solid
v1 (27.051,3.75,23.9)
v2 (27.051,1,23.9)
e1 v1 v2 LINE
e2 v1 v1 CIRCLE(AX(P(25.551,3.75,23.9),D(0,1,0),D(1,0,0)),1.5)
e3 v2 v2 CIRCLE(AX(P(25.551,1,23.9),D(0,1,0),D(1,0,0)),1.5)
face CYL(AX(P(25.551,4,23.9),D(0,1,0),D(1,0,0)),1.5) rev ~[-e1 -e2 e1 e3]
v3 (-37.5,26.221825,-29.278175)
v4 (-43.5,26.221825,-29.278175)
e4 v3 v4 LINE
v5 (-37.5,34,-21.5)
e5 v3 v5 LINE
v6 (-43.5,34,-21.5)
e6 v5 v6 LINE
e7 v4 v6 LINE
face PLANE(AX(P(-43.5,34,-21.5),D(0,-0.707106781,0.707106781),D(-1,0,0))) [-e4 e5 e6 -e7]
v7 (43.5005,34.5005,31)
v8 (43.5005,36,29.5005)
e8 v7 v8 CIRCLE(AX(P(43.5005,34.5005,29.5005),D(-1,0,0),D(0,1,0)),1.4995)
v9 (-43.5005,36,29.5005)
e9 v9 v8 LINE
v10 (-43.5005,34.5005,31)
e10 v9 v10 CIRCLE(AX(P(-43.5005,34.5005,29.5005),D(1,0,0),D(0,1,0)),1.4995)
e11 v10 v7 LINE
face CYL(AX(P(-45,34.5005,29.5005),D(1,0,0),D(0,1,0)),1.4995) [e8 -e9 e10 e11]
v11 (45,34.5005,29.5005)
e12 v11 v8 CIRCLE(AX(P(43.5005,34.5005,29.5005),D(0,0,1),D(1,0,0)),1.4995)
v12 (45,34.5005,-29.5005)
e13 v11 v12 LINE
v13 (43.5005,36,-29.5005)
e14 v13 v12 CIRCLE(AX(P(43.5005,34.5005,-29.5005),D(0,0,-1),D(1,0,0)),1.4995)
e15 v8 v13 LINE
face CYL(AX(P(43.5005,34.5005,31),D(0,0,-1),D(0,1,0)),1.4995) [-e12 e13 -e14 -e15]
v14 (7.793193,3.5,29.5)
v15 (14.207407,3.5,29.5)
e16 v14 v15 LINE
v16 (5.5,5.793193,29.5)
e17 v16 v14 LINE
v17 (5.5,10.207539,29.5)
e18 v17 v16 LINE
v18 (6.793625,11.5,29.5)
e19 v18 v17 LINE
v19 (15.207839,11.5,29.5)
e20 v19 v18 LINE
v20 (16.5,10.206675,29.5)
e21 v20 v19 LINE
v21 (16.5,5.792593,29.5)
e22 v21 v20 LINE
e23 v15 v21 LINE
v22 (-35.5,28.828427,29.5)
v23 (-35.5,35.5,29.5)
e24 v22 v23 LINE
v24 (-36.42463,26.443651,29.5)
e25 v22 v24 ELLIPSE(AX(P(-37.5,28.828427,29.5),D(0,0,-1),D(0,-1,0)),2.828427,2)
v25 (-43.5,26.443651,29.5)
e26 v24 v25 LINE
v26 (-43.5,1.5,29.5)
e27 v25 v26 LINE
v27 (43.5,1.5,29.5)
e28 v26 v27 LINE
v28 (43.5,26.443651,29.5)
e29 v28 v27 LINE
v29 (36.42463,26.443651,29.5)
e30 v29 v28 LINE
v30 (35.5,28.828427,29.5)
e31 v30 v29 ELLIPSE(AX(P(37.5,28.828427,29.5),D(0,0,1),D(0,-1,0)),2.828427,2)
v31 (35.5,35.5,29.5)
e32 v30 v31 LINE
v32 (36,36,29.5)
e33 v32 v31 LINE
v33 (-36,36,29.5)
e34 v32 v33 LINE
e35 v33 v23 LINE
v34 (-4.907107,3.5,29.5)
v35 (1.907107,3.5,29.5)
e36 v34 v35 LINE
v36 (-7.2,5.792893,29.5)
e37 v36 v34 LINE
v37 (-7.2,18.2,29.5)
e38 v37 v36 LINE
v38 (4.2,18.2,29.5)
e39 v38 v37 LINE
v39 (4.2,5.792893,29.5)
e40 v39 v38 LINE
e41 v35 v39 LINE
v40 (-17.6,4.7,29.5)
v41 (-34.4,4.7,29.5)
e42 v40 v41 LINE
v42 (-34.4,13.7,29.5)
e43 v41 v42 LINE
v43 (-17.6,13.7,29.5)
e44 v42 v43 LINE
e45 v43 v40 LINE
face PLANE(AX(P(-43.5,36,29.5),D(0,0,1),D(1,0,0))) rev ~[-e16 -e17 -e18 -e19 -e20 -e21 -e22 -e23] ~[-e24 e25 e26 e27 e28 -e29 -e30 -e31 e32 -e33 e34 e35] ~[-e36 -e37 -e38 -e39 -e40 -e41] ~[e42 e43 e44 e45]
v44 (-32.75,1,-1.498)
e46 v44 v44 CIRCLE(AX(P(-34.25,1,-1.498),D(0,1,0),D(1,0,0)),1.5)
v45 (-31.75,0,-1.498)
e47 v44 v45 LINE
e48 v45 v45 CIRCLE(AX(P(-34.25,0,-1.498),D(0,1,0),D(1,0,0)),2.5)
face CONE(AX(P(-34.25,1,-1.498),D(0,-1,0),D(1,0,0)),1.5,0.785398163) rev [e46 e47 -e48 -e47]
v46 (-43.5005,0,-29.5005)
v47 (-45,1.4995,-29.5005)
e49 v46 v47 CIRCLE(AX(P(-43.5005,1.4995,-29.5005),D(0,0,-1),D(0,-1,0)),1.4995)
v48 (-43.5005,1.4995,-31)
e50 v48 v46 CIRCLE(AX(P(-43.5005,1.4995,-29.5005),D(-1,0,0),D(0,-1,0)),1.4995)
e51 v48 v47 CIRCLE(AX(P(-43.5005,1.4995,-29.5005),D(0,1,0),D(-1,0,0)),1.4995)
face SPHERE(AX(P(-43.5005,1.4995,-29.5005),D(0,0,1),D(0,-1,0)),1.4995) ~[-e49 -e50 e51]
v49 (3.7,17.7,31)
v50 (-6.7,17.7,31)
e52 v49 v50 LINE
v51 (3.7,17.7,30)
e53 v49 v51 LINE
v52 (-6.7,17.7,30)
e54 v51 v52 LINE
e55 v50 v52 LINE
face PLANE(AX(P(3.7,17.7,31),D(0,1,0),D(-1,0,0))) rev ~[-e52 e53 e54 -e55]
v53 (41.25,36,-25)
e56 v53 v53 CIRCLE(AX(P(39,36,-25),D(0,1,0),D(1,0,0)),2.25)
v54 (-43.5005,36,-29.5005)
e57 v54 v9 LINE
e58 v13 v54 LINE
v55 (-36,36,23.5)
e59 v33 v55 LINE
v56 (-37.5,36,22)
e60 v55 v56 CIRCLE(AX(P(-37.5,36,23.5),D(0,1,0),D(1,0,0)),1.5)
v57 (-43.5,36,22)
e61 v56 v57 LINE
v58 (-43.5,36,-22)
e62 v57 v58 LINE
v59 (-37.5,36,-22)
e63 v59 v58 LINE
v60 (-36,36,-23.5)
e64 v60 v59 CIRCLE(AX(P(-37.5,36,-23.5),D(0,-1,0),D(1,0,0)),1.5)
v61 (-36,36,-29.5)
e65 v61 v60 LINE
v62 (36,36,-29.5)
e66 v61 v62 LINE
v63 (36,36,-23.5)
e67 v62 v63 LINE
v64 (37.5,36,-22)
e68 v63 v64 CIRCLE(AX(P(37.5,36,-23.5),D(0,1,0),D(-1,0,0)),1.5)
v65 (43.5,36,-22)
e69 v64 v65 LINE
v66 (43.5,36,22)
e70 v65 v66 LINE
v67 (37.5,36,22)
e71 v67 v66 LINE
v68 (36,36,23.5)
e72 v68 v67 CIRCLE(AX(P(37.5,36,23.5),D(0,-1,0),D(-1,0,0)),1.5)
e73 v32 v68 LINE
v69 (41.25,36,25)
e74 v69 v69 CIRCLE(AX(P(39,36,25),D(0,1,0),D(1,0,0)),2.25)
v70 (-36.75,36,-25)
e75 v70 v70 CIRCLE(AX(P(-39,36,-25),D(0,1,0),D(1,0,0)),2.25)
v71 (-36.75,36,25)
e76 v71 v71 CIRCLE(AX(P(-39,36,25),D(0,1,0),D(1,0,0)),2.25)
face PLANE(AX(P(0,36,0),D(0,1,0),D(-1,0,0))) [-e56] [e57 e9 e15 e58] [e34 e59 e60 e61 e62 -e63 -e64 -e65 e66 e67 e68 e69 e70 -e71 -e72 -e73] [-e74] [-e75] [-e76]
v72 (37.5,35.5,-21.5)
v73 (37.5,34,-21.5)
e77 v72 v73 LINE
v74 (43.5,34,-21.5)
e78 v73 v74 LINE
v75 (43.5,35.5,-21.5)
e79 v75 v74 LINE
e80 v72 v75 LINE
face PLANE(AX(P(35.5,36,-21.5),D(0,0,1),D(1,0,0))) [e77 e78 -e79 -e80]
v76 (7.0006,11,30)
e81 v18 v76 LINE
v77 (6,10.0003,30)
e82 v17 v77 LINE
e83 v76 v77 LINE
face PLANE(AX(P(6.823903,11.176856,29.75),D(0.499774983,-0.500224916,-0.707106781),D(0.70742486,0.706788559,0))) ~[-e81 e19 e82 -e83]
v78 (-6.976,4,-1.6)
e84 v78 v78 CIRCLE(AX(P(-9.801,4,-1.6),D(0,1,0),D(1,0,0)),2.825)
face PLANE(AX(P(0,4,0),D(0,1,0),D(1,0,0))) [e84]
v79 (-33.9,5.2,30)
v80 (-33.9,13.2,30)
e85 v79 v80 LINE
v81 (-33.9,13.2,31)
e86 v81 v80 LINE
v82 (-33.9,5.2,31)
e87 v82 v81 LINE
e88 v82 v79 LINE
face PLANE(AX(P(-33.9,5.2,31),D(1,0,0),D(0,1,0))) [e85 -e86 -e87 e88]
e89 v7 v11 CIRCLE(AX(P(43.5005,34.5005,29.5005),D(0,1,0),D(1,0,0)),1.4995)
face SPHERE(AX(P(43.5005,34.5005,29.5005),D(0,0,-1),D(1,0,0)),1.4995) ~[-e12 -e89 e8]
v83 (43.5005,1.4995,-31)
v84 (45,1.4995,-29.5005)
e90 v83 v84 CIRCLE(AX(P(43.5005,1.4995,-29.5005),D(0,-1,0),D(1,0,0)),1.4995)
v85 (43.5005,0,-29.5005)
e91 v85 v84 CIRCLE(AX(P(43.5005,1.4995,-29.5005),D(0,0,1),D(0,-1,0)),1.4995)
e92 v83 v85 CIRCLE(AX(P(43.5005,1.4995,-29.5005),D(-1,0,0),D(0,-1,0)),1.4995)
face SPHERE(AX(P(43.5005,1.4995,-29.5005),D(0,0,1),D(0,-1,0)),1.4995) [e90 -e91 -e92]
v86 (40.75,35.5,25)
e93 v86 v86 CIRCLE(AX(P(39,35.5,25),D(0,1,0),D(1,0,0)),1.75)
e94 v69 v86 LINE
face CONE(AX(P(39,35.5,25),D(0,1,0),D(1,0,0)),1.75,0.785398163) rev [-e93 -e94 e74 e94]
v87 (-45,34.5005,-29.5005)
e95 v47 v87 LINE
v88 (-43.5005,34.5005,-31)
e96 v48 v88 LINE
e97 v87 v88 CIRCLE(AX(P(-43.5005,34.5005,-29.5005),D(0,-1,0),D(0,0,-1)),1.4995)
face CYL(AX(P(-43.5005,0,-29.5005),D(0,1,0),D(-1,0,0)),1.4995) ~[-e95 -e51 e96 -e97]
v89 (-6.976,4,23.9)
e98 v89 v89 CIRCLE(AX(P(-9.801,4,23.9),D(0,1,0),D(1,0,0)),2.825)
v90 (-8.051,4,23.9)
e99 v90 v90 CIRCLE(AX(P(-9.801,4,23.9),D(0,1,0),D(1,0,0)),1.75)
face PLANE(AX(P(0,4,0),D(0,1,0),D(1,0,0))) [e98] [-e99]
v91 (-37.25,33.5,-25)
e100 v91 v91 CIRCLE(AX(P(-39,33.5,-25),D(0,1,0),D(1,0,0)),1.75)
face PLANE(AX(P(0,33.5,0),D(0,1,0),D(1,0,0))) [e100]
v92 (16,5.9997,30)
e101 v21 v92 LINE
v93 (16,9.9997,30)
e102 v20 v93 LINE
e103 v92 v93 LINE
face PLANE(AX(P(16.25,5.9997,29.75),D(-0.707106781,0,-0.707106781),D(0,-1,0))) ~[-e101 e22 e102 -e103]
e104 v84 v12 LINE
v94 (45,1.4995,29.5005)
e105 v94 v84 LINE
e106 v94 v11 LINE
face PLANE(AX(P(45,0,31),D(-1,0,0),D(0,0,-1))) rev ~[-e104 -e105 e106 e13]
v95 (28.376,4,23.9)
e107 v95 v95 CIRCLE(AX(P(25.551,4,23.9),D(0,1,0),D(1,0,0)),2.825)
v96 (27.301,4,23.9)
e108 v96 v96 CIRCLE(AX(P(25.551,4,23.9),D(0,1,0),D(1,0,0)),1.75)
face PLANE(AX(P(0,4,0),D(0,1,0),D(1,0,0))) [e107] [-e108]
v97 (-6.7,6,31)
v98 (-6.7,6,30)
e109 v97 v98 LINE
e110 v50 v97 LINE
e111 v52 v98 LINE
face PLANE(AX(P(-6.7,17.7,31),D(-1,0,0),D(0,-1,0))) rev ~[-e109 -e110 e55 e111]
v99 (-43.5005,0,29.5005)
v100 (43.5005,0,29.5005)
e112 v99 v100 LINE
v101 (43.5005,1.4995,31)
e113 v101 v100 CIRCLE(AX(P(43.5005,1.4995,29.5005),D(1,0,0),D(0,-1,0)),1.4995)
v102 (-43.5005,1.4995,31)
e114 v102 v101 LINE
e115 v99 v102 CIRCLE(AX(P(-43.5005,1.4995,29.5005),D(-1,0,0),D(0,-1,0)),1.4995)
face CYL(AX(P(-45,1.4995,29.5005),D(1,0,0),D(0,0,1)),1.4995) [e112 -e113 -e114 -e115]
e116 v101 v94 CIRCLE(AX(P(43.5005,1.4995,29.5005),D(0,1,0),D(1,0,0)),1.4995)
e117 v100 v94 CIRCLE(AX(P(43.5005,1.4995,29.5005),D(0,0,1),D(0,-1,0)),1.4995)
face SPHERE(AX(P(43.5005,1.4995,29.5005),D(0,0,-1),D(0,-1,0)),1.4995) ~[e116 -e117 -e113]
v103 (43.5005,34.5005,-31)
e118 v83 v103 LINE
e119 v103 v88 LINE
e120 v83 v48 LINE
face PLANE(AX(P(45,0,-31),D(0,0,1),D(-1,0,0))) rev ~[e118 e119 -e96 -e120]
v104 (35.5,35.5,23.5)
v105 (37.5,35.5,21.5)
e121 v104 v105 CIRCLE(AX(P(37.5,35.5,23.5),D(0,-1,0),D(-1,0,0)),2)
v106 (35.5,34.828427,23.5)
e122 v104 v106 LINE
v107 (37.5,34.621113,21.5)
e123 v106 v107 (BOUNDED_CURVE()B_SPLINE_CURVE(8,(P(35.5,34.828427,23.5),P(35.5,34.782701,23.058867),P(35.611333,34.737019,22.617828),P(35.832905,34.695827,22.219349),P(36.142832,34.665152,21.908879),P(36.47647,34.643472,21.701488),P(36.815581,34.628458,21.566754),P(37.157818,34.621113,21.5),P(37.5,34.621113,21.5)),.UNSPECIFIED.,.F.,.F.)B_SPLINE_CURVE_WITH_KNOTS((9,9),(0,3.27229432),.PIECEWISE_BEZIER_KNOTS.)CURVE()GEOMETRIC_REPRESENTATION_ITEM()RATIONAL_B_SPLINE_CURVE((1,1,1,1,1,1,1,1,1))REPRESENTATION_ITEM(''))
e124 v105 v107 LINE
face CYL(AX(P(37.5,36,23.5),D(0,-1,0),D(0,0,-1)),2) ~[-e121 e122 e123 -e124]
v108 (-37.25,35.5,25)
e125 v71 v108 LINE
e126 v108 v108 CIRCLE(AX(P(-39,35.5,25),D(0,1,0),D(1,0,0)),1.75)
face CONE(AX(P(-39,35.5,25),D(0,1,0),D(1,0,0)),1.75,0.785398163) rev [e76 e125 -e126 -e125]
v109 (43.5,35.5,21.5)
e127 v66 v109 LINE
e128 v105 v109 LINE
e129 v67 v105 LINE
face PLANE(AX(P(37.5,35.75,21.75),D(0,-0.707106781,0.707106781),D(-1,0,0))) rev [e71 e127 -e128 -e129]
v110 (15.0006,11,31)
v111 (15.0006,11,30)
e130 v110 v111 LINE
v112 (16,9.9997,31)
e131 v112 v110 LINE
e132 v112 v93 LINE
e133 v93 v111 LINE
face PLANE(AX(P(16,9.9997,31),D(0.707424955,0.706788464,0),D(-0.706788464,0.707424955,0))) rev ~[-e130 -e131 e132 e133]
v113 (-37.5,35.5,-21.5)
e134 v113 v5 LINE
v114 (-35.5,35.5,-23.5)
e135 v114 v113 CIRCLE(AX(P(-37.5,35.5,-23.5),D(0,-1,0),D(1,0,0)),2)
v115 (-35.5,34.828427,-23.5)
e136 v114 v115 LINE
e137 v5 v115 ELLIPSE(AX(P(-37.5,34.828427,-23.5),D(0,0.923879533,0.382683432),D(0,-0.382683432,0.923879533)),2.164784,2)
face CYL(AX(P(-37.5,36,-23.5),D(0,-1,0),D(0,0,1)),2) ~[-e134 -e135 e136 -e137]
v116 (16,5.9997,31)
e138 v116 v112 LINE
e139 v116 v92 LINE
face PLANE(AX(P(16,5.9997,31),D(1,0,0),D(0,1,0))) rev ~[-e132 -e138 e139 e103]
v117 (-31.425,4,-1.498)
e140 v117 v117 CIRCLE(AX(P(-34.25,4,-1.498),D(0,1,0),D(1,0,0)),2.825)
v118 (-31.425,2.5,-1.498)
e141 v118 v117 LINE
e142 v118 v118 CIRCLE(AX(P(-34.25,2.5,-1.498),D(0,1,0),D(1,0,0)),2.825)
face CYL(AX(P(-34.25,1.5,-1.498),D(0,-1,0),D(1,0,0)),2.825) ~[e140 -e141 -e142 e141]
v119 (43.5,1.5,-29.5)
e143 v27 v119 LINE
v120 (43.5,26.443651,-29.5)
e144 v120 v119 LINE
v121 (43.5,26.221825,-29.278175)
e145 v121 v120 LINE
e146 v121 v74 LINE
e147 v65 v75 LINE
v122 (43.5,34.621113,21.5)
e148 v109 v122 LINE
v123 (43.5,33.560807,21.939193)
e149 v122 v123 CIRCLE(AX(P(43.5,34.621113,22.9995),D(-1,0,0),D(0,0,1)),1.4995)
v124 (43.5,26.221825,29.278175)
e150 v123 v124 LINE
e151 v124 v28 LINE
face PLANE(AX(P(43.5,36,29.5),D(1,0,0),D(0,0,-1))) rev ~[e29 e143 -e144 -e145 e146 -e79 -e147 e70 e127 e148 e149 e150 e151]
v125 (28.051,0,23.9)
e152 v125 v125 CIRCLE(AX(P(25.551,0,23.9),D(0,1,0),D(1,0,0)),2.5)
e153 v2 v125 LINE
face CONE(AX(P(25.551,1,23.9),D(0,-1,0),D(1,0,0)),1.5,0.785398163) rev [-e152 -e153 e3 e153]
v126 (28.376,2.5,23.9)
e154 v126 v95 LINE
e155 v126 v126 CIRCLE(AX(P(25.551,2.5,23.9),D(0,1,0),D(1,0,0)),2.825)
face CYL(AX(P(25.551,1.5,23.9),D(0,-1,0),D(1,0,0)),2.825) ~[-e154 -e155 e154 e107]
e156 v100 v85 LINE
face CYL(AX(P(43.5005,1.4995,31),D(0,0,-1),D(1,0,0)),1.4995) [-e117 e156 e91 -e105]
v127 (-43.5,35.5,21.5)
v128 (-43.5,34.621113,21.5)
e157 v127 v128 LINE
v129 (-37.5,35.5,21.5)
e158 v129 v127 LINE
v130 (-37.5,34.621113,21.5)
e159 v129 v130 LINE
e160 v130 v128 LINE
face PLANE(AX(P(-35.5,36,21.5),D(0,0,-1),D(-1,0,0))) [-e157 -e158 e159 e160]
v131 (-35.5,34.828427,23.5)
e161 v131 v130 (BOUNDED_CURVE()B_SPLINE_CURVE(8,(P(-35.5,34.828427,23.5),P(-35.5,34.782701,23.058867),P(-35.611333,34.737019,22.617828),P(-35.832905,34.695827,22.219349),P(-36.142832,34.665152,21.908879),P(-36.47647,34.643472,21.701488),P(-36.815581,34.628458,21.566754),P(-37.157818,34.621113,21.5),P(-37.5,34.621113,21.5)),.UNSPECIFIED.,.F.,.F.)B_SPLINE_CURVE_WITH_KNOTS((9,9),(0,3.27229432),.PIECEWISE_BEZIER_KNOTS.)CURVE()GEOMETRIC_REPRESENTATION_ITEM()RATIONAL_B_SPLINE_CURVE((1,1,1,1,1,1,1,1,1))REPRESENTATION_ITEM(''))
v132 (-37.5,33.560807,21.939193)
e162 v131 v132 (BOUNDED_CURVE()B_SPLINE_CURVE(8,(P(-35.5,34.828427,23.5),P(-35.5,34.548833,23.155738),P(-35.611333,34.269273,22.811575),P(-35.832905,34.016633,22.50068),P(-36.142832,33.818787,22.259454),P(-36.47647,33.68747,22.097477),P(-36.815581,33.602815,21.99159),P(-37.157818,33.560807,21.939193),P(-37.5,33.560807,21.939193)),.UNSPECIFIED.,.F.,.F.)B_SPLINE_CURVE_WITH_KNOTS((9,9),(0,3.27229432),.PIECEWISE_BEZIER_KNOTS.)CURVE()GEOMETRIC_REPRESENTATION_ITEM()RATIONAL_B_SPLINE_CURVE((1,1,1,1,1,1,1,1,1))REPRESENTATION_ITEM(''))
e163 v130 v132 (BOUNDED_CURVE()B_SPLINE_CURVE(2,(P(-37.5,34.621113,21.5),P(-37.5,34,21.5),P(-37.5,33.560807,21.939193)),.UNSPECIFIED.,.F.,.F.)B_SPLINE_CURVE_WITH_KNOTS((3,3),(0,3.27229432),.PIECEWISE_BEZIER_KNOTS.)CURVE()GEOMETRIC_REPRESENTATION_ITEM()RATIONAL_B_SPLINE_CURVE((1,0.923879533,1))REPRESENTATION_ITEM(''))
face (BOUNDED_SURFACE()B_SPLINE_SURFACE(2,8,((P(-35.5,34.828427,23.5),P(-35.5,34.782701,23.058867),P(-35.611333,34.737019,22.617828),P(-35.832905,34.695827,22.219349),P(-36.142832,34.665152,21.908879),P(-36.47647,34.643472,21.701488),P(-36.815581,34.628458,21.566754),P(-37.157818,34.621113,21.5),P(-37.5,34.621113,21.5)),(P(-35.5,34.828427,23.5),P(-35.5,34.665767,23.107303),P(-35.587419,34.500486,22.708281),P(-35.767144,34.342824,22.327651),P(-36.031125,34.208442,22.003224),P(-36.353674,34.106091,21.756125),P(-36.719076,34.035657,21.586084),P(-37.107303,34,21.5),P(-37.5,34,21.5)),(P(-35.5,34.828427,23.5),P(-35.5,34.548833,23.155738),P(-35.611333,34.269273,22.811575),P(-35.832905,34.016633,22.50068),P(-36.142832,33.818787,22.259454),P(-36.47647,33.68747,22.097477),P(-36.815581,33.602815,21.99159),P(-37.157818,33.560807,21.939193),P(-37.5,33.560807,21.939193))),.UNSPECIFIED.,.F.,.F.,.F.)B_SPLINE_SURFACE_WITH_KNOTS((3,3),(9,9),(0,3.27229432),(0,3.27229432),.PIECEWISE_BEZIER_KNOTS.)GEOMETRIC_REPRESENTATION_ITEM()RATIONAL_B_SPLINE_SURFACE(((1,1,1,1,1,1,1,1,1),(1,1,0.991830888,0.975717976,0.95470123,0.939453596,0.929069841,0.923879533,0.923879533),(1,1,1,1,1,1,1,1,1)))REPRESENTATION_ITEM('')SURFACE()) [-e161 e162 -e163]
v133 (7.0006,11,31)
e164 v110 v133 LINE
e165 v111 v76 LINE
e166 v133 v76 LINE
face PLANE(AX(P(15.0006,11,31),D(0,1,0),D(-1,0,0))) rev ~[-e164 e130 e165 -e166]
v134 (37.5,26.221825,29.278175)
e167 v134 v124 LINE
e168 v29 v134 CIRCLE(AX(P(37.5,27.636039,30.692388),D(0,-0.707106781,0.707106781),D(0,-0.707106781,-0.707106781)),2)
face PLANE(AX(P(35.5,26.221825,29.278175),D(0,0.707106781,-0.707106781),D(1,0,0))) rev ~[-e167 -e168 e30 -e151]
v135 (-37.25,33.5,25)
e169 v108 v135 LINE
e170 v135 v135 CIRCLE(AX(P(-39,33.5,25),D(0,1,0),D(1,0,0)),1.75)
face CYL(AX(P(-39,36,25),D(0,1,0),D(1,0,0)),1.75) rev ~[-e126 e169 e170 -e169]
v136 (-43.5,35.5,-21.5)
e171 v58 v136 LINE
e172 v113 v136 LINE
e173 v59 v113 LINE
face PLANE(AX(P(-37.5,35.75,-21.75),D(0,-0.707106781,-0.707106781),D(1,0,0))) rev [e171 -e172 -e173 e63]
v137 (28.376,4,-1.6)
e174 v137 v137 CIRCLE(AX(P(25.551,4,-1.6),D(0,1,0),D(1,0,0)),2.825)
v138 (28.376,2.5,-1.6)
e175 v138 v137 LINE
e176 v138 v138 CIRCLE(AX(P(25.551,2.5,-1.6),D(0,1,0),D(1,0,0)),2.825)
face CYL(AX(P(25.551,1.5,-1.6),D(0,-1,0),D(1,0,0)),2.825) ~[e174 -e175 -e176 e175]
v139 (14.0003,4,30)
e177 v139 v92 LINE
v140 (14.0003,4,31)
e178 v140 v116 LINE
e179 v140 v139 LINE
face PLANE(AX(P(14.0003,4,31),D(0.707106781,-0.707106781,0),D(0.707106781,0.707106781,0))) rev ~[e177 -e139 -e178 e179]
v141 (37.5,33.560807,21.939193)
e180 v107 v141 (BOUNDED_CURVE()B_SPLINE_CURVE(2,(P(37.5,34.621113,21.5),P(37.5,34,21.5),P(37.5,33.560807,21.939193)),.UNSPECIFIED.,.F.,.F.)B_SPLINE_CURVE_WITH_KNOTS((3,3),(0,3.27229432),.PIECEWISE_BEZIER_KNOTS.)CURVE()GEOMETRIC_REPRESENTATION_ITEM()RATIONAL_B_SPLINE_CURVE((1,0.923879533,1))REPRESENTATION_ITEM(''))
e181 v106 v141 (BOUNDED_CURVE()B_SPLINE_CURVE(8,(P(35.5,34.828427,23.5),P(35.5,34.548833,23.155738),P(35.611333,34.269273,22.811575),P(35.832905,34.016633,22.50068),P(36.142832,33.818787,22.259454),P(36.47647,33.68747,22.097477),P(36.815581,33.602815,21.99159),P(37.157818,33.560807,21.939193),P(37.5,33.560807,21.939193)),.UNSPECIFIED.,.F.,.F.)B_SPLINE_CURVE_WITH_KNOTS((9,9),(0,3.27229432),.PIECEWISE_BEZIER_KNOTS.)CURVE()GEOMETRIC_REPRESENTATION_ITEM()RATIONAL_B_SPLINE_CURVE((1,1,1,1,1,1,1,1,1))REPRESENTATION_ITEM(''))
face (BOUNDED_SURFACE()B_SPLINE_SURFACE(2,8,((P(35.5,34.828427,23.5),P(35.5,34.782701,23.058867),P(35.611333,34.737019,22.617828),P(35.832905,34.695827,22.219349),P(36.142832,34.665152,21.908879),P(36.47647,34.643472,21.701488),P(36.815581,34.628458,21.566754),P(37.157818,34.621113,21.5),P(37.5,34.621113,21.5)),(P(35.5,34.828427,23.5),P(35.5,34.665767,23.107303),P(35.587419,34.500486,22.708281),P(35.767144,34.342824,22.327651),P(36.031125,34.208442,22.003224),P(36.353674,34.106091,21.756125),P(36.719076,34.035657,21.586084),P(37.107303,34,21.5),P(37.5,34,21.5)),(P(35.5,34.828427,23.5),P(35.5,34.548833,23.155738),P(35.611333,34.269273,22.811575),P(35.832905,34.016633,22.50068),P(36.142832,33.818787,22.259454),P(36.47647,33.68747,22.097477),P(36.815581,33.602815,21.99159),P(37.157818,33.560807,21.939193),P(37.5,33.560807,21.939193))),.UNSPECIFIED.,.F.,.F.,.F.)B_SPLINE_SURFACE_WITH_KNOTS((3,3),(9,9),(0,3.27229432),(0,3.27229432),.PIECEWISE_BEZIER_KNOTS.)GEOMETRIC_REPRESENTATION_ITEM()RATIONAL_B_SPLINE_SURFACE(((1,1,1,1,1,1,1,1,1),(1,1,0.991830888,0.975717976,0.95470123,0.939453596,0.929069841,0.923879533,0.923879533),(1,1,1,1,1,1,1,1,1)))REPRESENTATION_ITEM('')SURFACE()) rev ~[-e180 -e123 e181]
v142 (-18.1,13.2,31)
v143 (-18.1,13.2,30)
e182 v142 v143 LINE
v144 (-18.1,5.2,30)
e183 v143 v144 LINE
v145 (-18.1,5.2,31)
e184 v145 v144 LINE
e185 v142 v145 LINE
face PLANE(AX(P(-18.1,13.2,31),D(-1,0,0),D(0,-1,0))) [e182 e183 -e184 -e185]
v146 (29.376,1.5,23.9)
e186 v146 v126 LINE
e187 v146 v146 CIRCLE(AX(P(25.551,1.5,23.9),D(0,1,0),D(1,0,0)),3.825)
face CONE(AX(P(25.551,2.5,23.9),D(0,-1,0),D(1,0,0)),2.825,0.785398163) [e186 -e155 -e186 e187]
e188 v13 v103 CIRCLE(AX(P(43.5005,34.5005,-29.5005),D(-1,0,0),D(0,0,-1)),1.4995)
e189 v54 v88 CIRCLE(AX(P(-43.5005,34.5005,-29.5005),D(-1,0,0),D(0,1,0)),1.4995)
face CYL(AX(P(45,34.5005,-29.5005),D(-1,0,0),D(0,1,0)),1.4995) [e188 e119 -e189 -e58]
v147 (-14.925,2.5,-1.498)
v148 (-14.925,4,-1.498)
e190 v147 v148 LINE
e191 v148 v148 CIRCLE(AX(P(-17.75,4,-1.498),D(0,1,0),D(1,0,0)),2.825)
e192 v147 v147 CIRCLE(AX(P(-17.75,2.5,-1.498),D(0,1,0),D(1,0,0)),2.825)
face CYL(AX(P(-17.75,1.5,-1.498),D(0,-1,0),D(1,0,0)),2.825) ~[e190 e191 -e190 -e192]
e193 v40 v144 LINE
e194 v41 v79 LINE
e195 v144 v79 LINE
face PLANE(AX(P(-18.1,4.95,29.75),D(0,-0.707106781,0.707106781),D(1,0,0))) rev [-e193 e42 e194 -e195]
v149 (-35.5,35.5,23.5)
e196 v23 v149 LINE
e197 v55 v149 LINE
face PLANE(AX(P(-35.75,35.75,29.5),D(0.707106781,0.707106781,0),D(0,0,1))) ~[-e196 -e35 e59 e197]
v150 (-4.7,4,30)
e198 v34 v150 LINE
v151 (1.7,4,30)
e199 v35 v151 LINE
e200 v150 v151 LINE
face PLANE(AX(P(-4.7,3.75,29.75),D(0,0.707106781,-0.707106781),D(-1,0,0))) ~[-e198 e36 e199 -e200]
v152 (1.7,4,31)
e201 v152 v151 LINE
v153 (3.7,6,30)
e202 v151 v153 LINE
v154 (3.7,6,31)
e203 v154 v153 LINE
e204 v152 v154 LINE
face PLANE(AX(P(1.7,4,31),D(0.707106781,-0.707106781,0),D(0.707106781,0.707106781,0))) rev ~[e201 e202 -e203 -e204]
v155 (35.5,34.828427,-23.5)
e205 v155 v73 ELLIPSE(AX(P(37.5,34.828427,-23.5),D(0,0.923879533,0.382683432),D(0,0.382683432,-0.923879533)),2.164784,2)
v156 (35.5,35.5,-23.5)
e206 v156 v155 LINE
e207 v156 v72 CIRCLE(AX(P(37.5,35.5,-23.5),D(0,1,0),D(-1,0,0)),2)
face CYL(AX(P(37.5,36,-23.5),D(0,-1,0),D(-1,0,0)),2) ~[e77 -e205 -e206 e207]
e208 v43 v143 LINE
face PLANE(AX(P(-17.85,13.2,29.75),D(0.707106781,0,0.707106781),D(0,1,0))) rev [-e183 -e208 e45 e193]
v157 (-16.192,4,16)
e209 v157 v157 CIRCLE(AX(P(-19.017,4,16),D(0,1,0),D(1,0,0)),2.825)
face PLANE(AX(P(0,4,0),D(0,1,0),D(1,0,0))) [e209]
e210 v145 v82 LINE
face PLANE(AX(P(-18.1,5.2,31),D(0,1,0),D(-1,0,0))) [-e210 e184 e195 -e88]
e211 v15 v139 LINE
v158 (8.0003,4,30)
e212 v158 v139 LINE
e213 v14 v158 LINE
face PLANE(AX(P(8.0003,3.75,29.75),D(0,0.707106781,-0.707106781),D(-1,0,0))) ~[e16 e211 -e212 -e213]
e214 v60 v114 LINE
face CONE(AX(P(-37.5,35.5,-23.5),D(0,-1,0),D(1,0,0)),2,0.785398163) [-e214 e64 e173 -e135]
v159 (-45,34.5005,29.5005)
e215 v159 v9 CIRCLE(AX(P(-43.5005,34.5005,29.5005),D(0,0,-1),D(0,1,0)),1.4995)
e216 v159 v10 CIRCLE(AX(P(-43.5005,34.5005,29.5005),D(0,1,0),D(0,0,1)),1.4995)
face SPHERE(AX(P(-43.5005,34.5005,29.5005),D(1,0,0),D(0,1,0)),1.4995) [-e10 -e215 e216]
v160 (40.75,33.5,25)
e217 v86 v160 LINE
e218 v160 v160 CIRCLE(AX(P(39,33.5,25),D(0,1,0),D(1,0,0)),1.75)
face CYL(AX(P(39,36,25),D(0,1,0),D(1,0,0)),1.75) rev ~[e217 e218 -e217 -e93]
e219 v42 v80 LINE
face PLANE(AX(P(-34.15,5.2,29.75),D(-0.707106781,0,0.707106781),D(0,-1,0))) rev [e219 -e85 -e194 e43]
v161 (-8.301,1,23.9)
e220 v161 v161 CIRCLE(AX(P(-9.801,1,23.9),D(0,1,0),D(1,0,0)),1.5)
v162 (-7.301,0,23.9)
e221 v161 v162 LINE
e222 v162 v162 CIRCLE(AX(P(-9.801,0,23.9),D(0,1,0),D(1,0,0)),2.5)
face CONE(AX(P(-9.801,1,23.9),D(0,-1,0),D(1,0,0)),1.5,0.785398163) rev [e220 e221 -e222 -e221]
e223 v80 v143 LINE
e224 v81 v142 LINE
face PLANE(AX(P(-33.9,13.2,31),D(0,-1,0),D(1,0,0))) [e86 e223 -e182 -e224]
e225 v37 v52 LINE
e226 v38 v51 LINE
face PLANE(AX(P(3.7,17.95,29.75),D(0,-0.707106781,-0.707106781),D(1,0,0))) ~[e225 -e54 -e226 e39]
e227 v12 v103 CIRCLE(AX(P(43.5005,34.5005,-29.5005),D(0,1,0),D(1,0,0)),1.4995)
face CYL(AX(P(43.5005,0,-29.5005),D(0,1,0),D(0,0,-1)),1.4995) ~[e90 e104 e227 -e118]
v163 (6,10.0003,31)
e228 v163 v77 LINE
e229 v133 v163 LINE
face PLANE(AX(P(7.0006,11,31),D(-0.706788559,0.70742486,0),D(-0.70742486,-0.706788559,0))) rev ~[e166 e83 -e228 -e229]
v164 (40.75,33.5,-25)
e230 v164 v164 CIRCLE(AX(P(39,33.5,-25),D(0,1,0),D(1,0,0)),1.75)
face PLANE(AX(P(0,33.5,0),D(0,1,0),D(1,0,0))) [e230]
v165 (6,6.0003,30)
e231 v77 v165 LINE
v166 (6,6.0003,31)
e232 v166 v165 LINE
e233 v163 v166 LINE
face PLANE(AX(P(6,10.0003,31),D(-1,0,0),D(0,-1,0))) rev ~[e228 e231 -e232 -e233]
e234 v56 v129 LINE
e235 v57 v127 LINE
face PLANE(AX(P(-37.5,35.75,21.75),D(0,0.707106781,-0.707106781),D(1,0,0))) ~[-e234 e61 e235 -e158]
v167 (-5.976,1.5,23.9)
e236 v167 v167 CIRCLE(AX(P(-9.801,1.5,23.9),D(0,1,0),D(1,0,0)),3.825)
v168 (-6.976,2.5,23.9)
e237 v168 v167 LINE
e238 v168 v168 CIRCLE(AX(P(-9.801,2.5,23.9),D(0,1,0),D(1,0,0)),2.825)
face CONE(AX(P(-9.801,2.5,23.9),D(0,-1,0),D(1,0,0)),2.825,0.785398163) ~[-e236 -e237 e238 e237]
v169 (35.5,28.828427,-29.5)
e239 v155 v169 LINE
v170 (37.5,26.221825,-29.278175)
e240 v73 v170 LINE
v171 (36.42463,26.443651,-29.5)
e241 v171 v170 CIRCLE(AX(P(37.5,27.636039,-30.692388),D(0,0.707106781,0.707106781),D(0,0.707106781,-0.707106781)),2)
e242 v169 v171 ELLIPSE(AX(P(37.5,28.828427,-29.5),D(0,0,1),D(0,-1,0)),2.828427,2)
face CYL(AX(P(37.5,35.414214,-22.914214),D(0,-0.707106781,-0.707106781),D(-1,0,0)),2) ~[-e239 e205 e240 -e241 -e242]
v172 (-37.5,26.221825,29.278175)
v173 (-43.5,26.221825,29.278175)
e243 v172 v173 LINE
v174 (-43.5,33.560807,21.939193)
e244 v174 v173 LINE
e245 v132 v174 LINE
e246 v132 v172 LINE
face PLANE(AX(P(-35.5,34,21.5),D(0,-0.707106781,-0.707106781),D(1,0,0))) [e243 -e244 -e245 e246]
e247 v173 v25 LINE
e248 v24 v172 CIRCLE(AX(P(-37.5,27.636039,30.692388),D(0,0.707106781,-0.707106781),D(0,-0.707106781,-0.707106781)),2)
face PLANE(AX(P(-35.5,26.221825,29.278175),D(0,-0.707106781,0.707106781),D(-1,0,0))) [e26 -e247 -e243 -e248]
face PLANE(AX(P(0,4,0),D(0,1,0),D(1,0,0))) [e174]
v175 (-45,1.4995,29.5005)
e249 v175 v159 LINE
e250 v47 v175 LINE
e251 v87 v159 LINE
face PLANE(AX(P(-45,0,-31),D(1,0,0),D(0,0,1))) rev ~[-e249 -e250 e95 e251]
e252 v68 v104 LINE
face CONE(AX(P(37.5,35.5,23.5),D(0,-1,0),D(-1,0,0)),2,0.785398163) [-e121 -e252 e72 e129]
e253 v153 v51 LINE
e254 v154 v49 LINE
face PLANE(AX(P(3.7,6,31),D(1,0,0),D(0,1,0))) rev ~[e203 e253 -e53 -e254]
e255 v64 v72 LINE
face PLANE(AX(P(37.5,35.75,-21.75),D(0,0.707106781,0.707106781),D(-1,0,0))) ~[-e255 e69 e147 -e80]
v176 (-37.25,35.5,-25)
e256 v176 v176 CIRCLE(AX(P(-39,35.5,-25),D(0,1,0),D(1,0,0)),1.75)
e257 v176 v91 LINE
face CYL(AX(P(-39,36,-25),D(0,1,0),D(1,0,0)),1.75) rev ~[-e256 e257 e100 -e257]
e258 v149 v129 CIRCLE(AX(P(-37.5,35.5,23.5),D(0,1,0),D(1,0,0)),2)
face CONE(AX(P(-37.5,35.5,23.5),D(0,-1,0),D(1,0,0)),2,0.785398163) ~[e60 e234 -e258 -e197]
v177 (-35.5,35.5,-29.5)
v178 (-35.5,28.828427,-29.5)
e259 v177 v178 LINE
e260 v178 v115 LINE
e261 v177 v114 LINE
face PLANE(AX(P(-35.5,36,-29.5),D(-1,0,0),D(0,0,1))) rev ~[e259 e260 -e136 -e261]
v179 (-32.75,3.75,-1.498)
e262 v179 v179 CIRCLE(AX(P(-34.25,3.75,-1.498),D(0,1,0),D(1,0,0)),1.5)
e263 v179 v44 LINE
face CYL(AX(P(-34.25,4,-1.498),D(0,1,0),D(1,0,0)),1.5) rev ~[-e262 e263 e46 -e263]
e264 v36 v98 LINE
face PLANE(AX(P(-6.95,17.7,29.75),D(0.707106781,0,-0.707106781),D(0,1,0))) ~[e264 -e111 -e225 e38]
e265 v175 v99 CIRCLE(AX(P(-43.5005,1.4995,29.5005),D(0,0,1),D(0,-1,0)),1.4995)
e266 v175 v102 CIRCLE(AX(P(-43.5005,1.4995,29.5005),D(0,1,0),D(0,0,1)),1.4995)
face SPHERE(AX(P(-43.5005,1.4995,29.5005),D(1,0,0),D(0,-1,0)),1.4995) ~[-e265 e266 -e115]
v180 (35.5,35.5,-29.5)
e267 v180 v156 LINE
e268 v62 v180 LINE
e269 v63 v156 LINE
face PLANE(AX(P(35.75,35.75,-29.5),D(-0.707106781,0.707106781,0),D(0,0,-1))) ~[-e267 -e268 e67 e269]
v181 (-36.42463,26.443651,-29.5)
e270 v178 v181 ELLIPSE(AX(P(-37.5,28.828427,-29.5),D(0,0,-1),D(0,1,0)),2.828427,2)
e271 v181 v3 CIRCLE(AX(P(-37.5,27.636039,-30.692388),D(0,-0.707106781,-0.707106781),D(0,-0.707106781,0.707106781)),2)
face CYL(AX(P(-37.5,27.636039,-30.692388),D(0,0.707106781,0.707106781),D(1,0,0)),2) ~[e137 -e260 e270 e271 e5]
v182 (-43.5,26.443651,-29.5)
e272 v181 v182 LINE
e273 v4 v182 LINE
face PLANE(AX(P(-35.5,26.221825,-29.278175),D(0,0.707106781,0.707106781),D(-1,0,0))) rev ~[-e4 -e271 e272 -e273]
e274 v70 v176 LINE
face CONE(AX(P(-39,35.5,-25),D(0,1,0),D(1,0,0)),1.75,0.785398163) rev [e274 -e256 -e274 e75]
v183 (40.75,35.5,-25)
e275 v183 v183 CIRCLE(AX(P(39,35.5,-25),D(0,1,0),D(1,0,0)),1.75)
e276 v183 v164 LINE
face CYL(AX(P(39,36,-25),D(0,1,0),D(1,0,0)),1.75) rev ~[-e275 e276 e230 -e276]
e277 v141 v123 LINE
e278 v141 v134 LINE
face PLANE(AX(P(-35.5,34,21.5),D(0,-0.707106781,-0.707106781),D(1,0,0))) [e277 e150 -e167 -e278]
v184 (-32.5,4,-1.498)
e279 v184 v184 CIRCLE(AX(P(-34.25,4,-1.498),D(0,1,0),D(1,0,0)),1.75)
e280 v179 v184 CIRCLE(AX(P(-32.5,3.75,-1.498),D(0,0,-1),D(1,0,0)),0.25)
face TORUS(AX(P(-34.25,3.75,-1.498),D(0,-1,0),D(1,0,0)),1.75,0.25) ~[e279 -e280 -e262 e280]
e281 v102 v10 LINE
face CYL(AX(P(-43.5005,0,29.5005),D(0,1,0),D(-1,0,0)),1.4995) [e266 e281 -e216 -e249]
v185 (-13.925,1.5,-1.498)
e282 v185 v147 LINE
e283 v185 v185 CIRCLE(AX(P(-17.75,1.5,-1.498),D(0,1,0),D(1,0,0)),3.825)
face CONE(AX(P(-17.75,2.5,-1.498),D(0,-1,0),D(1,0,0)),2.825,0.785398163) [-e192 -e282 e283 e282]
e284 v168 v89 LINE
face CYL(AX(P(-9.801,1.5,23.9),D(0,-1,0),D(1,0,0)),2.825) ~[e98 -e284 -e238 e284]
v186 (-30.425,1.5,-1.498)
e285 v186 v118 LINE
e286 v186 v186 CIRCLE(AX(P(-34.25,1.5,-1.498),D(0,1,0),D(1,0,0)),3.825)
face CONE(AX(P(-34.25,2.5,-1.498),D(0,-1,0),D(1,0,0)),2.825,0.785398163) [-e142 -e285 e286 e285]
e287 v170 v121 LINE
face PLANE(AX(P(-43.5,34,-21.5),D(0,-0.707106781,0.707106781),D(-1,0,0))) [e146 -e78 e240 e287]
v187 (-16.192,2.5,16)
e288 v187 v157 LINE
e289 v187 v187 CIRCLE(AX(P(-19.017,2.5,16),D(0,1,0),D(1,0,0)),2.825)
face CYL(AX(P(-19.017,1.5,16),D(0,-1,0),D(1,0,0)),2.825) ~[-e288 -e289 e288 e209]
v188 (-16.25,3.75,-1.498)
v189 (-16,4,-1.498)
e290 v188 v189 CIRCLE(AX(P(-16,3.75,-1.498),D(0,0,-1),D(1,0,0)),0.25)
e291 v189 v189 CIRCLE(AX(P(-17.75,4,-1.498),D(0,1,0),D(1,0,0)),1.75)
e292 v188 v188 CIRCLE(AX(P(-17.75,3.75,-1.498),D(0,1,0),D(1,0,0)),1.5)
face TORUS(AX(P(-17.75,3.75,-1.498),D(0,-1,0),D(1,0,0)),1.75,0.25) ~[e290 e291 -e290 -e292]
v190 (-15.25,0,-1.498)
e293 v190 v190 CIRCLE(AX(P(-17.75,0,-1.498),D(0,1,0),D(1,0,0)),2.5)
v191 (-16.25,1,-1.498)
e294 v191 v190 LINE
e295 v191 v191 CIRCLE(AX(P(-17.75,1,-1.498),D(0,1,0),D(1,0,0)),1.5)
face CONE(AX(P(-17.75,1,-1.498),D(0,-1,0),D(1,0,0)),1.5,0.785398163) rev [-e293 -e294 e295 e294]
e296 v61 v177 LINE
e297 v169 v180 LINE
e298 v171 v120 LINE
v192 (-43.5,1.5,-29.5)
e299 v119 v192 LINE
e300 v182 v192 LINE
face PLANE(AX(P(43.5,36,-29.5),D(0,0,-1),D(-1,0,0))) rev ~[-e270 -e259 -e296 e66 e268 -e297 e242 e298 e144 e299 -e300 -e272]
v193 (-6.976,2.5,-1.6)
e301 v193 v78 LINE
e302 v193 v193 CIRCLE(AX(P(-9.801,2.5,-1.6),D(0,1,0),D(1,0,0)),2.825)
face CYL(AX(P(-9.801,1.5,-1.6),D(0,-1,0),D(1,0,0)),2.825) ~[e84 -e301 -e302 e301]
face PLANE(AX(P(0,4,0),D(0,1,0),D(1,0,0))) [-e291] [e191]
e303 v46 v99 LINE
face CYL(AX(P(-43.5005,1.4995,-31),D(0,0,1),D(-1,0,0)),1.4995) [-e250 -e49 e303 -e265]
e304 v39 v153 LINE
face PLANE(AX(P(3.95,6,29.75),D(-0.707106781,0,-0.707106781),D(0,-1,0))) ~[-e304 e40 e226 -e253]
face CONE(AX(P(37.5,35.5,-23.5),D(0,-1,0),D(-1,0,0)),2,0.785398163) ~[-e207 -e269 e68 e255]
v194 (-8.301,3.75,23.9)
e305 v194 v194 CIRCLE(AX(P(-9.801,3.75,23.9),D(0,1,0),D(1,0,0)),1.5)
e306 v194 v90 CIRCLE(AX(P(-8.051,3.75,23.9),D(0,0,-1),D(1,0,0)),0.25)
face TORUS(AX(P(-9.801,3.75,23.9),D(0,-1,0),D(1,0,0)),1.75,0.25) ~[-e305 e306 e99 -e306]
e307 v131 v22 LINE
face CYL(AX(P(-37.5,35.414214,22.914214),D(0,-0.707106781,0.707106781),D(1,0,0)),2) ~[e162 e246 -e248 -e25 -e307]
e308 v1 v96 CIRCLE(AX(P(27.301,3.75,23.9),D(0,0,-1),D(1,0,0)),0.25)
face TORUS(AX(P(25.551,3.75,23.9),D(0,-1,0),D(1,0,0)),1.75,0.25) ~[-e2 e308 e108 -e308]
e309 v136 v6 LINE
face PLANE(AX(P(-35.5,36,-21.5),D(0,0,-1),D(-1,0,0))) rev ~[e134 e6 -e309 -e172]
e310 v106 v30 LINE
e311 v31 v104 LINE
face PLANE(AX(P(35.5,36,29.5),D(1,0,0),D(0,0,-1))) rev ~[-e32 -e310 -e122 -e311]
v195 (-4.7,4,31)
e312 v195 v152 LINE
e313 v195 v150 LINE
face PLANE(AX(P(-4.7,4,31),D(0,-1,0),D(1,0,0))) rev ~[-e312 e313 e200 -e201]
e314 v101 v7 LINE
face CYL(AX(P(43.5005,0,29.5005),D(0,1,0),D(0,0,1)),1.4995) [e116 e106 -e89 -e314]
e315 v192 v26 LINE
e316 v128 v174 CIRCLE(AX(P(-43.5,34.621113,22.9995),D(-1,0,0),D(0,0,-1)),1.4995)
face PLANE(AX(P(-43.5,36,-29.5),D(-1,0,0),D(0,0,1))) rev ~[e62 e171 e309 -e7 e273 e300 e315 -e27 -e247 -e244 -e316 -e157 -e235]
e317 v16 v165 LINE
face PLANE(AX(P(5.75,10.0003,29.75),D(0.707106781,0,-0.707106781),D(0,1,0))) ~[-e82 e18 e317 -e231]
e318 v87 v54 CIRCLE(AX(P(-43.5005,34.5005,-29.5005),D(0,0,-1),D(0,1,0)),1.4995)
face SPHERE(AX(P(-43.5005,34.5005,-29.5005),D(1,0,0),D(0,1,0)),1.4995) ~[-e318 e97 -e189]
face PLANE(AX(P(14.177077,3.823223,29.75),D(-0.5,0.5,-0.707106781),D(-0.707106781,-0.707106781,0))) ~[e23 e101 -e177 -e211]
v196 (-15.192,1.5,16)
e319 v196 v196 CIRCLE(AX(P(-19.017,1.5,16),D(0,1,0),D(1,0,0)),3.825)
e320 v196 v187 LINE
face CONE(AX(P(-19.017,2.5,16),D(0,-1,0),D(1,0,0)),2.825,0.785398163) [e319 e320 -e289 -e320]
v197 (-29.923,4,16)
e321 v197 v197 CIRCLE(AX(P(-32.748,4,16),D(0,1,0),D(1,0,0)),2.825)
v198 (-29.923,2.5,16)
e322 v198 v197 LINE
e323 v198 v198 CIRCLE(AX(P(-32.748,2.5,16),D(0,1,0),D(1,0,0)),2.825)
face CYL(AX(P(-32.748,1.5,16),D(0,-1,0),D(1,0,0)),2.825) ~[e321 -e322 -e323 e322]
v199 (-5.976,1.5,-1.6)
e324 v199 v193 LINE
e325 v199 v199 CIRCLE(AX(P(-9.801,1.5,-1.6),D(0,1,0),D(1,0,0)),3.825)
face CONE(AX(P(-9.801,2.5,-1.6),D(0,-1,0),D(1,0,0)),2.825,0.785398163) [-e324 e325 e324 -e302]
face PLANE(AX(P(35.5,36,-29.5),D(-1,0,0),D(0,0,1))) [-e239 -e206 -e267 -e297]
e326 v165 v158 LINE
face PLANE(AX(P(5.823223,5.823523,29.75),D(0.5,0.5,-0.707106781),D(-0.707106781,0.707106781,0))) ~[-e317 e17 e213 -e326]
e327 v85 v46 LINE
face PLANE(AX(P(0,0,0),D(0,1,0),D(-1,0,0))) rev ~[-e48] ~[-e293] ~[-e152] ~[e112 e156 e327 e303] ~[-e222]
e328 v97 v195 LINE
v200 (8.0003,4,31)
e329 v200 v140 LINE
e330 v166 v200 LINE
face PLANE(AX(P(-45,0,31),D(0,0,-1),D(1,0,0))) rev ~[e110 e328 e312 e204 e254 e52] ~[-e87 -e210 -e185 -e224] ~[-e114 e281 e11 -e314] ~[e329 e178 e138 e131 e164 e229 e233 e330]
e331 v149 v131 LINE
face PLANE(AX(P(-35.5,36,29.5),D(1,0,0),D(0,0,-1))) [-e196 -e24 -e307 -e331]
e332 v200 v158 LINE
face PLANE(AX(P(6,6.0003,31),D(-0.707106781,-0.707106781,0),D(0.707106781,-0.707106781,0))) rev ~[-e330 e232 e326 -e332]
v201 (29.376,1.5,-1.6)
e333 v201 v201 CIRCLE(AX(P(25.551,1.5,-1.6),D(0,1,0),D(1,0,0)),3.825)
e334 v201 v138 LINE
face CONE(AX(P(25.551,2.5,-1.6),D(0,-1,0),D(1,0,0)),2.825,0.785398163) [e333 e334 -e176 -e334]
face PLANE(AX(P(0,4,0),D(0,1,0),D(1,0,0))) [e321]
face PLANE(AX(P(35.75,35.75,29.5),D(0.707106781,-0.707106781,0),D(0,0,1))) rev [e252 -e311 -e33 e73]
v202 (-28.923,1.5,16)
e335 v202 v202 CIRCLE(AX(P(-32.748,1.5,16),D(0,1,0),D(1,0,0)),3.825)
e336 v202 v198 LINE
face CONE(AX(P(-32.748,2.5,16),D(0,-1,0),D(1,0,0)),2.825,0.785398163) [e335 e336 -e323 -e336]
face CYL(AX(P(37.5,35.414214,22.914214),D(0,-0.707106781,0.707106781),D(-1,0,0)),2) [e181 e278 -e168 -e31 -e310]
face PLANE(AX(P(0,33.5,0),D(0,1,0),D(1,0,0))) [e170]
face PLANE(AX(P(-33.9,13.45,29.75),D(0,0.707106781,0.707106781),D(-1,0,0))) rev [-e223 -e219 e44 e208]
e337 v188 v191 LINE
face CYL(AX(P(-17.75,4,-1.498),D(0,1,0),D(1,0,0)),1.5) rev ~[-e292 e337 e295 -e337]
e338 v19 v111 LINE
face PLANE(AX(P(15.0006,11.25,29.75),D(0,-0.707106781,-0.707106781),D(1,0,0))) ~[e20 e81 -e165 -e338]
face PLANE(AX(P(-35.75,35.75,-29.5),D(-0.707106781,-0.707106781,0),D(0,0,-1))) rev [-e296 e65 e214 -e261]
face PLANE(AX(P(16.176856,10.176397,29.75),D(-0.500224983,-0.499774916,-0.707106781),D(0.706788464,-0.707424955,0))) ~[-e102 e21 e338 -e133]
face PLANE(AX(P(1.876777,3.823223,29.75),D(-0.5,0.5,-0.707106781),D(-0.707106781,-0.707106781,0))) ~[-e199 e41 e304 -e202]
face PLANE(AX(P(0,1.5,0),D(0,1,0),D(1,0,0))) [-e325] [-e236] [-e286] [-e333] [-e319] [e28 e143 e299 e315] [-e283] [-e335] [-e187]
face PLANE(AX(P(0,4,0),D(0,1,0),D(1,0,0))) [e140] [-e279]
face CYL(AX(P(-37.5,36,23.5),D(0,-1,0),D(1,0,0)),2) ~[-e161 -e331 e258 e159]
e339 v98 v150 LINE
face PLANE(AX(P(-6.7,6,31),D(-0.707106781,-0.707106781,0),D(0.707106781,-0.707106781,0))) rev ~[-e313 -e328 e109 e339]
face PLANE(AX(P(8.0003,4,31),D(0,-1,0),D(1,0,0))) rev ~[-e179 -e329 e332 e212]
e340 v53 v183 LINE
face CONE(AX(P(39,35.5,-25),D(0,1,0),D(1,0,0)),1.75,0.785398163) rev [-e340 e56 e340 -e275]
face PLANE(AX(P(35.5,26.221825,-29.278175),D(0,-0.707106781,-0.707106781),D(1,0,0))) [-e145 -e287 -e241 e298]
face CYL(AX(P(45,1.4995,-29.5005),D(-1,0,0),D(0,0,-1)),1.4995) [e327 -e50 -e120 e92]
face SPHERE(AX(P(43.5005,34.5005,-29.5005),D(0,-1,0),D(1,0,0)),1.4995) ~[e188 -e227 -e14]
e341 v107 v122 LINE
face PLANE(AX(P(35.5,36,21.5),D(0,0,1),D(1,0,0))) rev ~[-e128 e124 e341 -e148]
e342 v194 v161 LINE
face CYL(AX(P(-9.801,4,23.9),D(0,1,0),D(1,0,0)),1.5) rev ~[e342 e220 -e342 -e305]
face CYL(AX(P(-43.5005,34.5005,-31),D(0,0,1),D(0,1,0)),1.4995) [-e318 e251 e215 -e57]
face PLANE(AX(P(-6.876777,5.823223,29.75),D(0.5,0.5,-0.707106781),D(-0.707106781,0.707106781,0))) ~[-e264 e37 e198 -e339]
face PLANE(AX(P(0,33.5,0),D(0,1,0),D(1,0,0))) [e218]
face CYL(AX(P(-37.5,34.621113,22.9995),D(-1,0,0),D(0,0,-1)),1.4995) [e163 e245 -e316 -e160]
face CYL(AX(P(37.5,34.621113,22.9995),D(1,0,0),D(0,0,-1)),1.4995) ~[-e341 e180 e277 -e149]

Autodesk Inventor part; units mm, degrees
sketch "Sketch1" plane through (0, 0, 0) normal (0, 1, 0) x (-1, 0, 0)
  line L0 (45, 31) -> (-45, 31)
  line L1 (-45, 31) -> (-45, -31)
  line L2 (-45, -31) -> (45, -31)
  line L3 (45, -31) -> (45, 31)
  point P0 (0, 0)
  dimension "d0" = 90
  dimension "d1" = 62
  dimension "d30" = 45
  dimension "d31" = 31
extrude "Extrusion1" add sketch "Sketch1" along normal blind 36
sketch "Sketch2" plane through (0, 36, 0) normal (0, 1, 0) x (1, 0, 0)
  line L0 (-43.5, 29.5) -> (-43.5, -29.5)
  line L1 (-45, 31) -> (-45, 0) projected
  line L2 (45, 31) -> (-45, 31) projected
  line L3 (45, -31) -> (45, 31) projected
  line L4 (0, -31) -> (45, -31) projected
  line L5 (43.5, 29.5) -> (-43.5, 29.5)
  line L6 (43.5, -29.5) -> (43.5, 29.5)
  line L7 (-43.5, -29.5) -> (43.5, -29.5)
  point P0 (0, 0)
  dimension "d56" = 1.5
  dimension "d57" = 1.5
  dimension "d58" = 1.5
  dimension "d59" = 1.5
extrude "Extrusion2" cut sketch "Sketch2" against normal blind 34.5
ref_plane "Work Plane1" through (0, 36, 29.5) normal (1, 0, 0) x (0, 0, -1)
ref_plane "Work Plane2" through (-43.5, 36, 0) normal (0, 0, 1) x (1, 0, 0)
sketch "Sketch8" plane through (0, 36, 0) normal (0, 1, 0) x (1, 0, 0)
  line L0 (-43.5, -29.5) -> (-43.5, 29.5) projected
  line L1 (-43.5, 29.5) -> (43.5, 29.5) projected
  line L2 (-43.5, 29.5) -> (-35.5, 29.5)
  line L3 (-35.5, 29.5) -> (-35.5, 21.5)
  line L4 (-35.5, 21.5) -> (-43.5, 21.5)
  line L5 (-43.5, 21.5) -> (-43.5, 29.5)
  line L6 (0, 43.4) -> (0, -43.4) projected
  line L7 (63, 0) -> (-63, 0) projected
  line L8 (43.5, 29.5) -> (35.5, 29.5)
  line L9 (35.5, 29.5) -> (35.5, 21.5)
  line L10 (35.5, 21.5) -> (43.5, 21.5)
  line L11 (43.5, 21.5) -> (43.5, 29.5)
  line L12 (-43.5, -29.5) -> (43.5, -29.5)
  line L13 (-43.5, -29.5) -> (-35.5, -29.5)
  line L14 (-35.5, -29.5) -> (-35.5, -21.5)
  line L15 (-35.5, -21.5) -> (-43.5, -21.5)
  line L16 (-43.5, -21.5) -> (-43.5, -29.5)
  line L17 (43.5, -29.5) -> (35.5, -29.5)
  line L18 (35.5, -29.5) -> (35.5, -21.5)
  line L19 (35.5, -21.5) -> (43.5, -21.5)
  line L20 (43.5, -21.5) -> (43.5, -29.5)
  point P0 (0, 0)
  dimension "d32" = 8
  dimension "d33" = 8
extrude "Extrusion5" add sketch "Sketch8" against normal blind 2 contours L1 L11 L10 L9 | L18 L19 L20 L12 | L0 L15 L14 L12 | L0 L1 L3 L4
ref_plane "Work Plane7" through (-43.5, 34, -21.5) normal (0, -0.7071, 0.7071) x (-1, 0, 0)
sketch "Sketch9" plane through (-43.5, 34, -21.5) normal (0, -0.7071, 0.7071) x (-1, 0, 0)
  line L0 (-8, 5.6569) -> (-8, 0) projected
  line L1 (0, 5.6569) -> (0, 0) projected
  line L2 (-8, 5.6569) -> (0, 5.6569) projected
  line L3 (0, 0) -> (-8, 0)
  line L4 (-8, 0) -> (-8, 11)
  line L5 (-8, 11) -> (0, 11)
  line L6 (0, 11) -> (0, 0)
  line L7 (-43.5, -52.3966) -> (-43.5, 44.6184) projected
  line L8 (-87, 0) -> (-79, 0)
  line L9 (-79, 0) -> (-79, 11)
  line L10 (-79, 11) -> (-87, 11)
  line L11 (-87, 11) -> (-87, 0)
  point P0 (-43.5, 8.8388)
  dimension "d37" = 8
  dimension "d38" = 11
extrude "Extrusion6" add sketch "Sketch9" against normal up to next
ref_plane "Work Plane8" through (-35.5, 34, 21.5) normal (0, -0.7071, -0.7071) x (1, 0, 0)
sketch "Sketch10" plane through (-35.5, 34, 21.5) normal (0, -0.7071, -0.7071) x (1, 0, 0)
  line L0 (-8, 0) -> (0, 0)
  line L1 (0, 0) -> (0, 11)
  line L2 (0, 11) -> (-8, 11)
  line L3 (-8, 11) -> (-8, 0)
  line L4 (0, -1.4142) -> (-8, -1.4142) projected
  line L5 (0, -1.4142) -> (0, 0) projected
  line L6 (-8, 0) -> (0, 0) projected
  line L7 (-8, -1.4142) -> (-8, 0) projected
  line L8 (0, -31.8198) -> (0, -37.4767) projected
  line L9 (0, -37.4767) -> (71, -37.4767) projected
  line L10 (71, -37.4767) -> (71, -31.8198) projected
  line L11 (71, -31.8198) -> (79, -31.8198) projected
  line L12 (79, -31.8198) -> (79, -1.4142) projected
  line L13 (79, -1.4142) -> (71, -1.4142) projected
  line L14 (71, -1.4142) -> (71, 4.2426) projected
  line L15 (71, 4.2426) -> (0, 4.2426) projected
  line L16 (0, 4.2426) -> (0, -1.4142) projected
  line L17 (0, -1.4142) -> (-8, -1.4142) projected
  line L18 (-8, -1.4142) -> (-8, -31.8198) projected
  line L19 (-8, -31.8198) -> (0, -31.8198) projected
  line L20 (80.5, -38.5373) -> (-9.5, -38.5373) projected
  line L21 (-9.5, -38.5373) -> (-9.5, 5.3033) projected
  line L22 (-9.5, 5.3033) -> (80.5, 5.3033) projected
  line L23 (80.5, 5.3033) -> (80.5, -38.5373) projected
  line L24 (-8, 5.6569) -> (-8, 28.6378) projected
  line L25 (35.5, 53.0684) -> (35.5, -74.6351) projected
  line L26 (79, 0) -> (71, 0)
  line L27 (71, 0) -> (71, 11)
  line L28 (71, 11) -> (79, 11)
  line L29 (79, 11) -> (79, 0)
  line L30 (71, -1.4142) -> (79, -1.4142)
  line L31 (71, -1.4142) -> (71, 0)
  line L32 (79, 0) -> (71, 0)
  line L33 (79, -1.4142) -> (79, 0)
  line L34 (71, 4.2426) -> (71, -1.4142)
  line L35 (71, -1.4142) -> (79, -1.4142)
  point P0 (35.5, 8.8388)
  point P1 (79, 5.6569)
  dimension "d42" = 8
  dimension "d43" = 11
  dimension "d46" = 0
  dimension "d47" = 0
extrude "Extrusion7" add sketch "Sketch10" against normal up to next contours L3 L22 L1 L0 | L3 L2 L1 L22 | L27 L22 L29 L26 L14 | L27 L28 L29 L22
fillet "Fillet1" radius 2 8 edges at (35.5, 35, 21.5) (35.5, 30.1109, 25.3891) (-35.5, 30.1109, 25.3891) (-35.5, 35, 21.5) (-35.5, 35, -21.5) (35.5, 30.1109, -25.3891) (35.5, 35, -21.5) (-35.5, 30.1109, -25.3891)
sketch "Sketch11" plane through (0, 36, 0) normal (0, 1, 0) x (1, 0, 0)
  circle A0 centre (39, -25) radius 1.75
  line L0 (35.5, -23.5) -> (35.5, -29.5) projected
  line L1 (43.5, -21.5) -> (37.5, -21.5) projected
  line L2 (0, 43.4) -> (0, -43.4) projected
  line L3 (63, 0) -> (-63, 0) projected
  circle A1 centre (-39, -25) radius 1.75
  circle A2 centre (39, 25) radius 1.75
  circle A3 centre (-39, 25) radius 1.75
  point P0 (0, 0)
  dimension "d51" = 3.5
  dimension "d52" = 3.5
  dimension "d53" = 3.5
extrude "Extrusion8" cut sketch "Sketch11" against normal blind 2.5
fillet "Fillet2" radius 1.5 16 edges at (45, 0, 0) (0, 0, 31) (-45, 0, 0) (0, 0, -31) (45, 18, -31) (45, 36, 0) (45, 18, 31) (0, 36, 31) (0, 36, -31) (-45, 36, 0) (-45, 18, 31) (-45, 18, -31) (40.5, 34, 21.5) (36.0858, 34.2426, 22.0858) (-40.5, 34, 21.5) (-36.0858, 34.2426, 22.0858)
chamfer "Chamfer1" distance 0.5 angle 45 16 edges at (-40.5, 36, -21.5) (-36.0858, 36, -22.0858) (-35.5, 36, -26.5) (-40.5, 36, 21.5) (-36.0858, 36, 22.0858) (-35.5, 36, 26.5) (35.5, 36, 26.5) (36.0858, 36, 22.0858) (40.5, 36, 21.5) (36.0858, 36, -22.0858) (35.5, 36, -26.5) (40.5, 36, -21.5) (37.25, 36, 25) (37.25, 36, -25) (-40.75, 36, -25) (-40.75, 36, 25)
sketch "Sketch12" plane through (-43.5, 34.5, 31) normal (0, 0, 1) x (1, 0, 0)
  line L0 (9.6, -21.3) -> (25.4, -21.3)
  line L1 (25.4, -21.3) -> (25.4, -29.3)
  line L2 (25.4, -29.3) -> (9.6, -29.3)
  line L3 (9.6, -29.3) -> (9.6, -21.3)
  line L4 (0, -34.5) -> (87, -34.5) projected
  line L5 (-1.5, 0) -> (-1.5, -33) projected
  line L6 (36.8, -16.8) -> (36.8, -28.5)
  line L7 (36.8, -28.5) -> (38.8, -30.5)
  line L8 (38.8, -30.5) -> (45.2, -30.5)
  line L9 (45.2, -30.5) -> (47.2, -28.5)
  line L10 (47.2, -28.5) -> (47.2, -16.8)
  line L11 (47.2, -16.8) -> (36.8, -16.8)
  line L12 (51.5003, -30.5) -> (57.5003, -30.5)
  line L13 (57.5003, -30.5) -> (59.5, -28.5003)
  line L14 (57.5003, -30.5) -> (60.3283, -30.5) construction
  line L15 (59.5, -28.5003) -> (59.5, -24.5003)
  line L16 (59.5, -24.5003) -> (58.5006, -23.5)
  line L17 (58.5006, -23.5) -> (50.5006, -23.5)
  line L18 (50.5006, -23.5) -> (49.5, -24.4997)
  line L19 (49.5, -24.4997) -> (49.5, -28.4997)
  line L20 (49.5, -28.4997) -> (51.5003, -30.5)
  point P0 (43.5, -34.5)
  dimension "d64" = 15.8
  dimension "d65" = 8
  dimension "d66" = 5.2
  dimension "d67" = 11.1
  dimension "d68" = 10.4
  dimension "d69" = 11.4
  dimension "d70" = 11.7
  dimension "d71" = 2
  dimension "d73" = 4
  dimension "d74" = 6.4
  dimension "d104" = 6
  dimension "d105" = 2.828
  dimension "d106" = 45
  dimension "d107" = 4
  dimension "d108" = 1.414
  dimension "d109" = 8
  dimension "d110" = 2.3
  dimension "d111" = 10
  dimension "d112" = 4
  dimension "d113" = 7
  dimension "d114" = 4
extrude "Extrusion9" cut sketch "Sketch12" against normal up to surface (1.5 mm away)
chamfer "Chamfer2" distance 0.5 angle 45 18 edges at (-33.9, 9.2, 29.5) (-26, 5.2, 29.5) (-18.1, 9.2, 29.5) (-26, 13.2, 29.5) (-6.7, 11.85, 29.5) (-5.7, 5, 29.5) (-1.5, 4, 29.5) (3.7, 11.85, 29.5) (2.7, 5, 29.5) (-1.5, 17.7, 29.5) (6, 8.0003, 29.5) (7.0002, 5.0002, 29.5) (11.0003, 4, 29.5) (11.0006, 11, 29.5) (6.5003, 10.5002, 29.5) (15.0002, 4.9998, 29.5) (16, 7.9997, 29.5) (15.5003, 10.4998, 29.5)
sketch "Sketch13" plane through (0, 1.5, 0) normal (0, 1, 0) x (1, 0, 0)
  circle A0 centre (-34.25, 1.498) radius 2.825
  circle A1 centre (-17.75, 1.498) radius 2.825
  circle A2 centre (-32.748, -16) radius 2.825
  circle A3 centre (-19.017, -16) radius 2.825
  circle A4 centre (-9.801, 1.6) radius 2.825
  circle A5 centre (25.551, 1.6) radius 2.825
  circle A6 centre (-9.801, -23.9) radius 2.825
  circle A7 centre (25.551, -23.9) radius 2.825
  line L0 (-43.5, -22) -> (-43.5, 22) projected
  line L1 (36, -29.5) -> (-36, -29.5) projected
  point P0 (0, 0)
  dimension "d120" = 5.65
  dimension "d121" = 5.65
  dimension "d122" = 5.65
  dimension "d123" = 5.65
  dimension "d124" = 5.65
  dimension "d125" = 5.65
  dimension "d126" = 5.65
  dimension "d127" = 5.65
  dimension "d128" = 9.25
  dimension "d129" = 30.998
  dimension "d130" = 16.5
  dimension "d131" = 30.998
  dimension "d132" = 13.731
  dimension "d133" = 10.752
  dimension "d134" = 13.5
  dimension "d135" = 13.5
  dimension "d136" = 25.5
  dimension "d137" = 25.5
  dimension "d138" = 35.352
  dimension "d139" = 33.699
  dimension "d140" = 31.1
  dimension "d141" = 31.1
  dimension "d142" = 5.6
  dimension "d143" = 35.352
extrude "Extrusion10" add sketch "Sketch13" along normal blind 2.5
sketch "Sketch14" plane through (-17.75, 4, -1.498) normal (0, 1, 0) x (1, 0, 0)
  circle A0 centre (7.949, -25.398) radius 2.825 projected
  circle A1 centre (7.949, 0.102) radius 2.825 projected
  circle A2 centre (-14.998, -17.498) radius 2.825 projected
  circle A3 centre (-16.5, 0) radius 2.825 projected
  circle A4 centre (0, 0) radius 2.825 projected
  circle A5 centre (-1.267, -17.498) radius 2.825 projected
  circle A6 centre (43.301, 0.102) radius 2.825 projected
  circle A7 centre (43.301, -25.398) radius 2.825 projected
  line L0 (61.25, 28.002) -> (61.25, -30.998) projected
  line L1 (-25.75, 28.002) -> (61.25, 28.002) projected
  line L2 (-25.75, -30.998) -> (-25.75, 28.002) projected
  line L3 (61.25, -30.998) -> (-25.75, -30.998) projected
  circle A8 centre (-16.5, 0) radius 1.5
  circle A9 centre (0, 0) radius 1.5
  circle A10 centre (7.949, -25.398) radius 1.5
  circle A11 centre (43.301, -25.398) radius 1.5
  point P0 (17.75, -1.498)
  dimension "d146" = 3
  dimension "d147" = 3
  dimension "d148" = 3
  dimension "d149" = 3
extrude "Extrusion11" cut sketch "Sketch14" against normal up to surface (4 mm away) contours A8 | A9 | A10 | A11
chamfer "Chamfer3" distance 1 angle 45 4 edges at (-11.301, 0, 23.9) (24.051, 0, 23.9) (-19.25, 0, -1.498) (-35.75, 0, -1.498)
fillet "Fillet3" radius 0.25 4 edges at (-35.75, 4, -1.498) (-19.25, 4, -1.498) (-11.301, 4, 23.9) (24.051, 4, 23.9)
chamfer "Chamfer4" distance 1 angle 45 8 edges at (-37.075, 1.5, -1.498) (-20.575, 1.5, -1.498) (-12.626, 1.5, -1.6) (22.726, 1.5, -1.6) (22.726, 1.5, 23.9) (-12.626, 1.5, 23.9) (-21.842, 1.5, 16) (-35.573, 1.5, 16)
equation "\"d30\" = 0.5 * d0"
equation "\"d31\" = 0.5 * d1"
equation "\"d131\" = d129"
properties part number "Solar Module Box"
